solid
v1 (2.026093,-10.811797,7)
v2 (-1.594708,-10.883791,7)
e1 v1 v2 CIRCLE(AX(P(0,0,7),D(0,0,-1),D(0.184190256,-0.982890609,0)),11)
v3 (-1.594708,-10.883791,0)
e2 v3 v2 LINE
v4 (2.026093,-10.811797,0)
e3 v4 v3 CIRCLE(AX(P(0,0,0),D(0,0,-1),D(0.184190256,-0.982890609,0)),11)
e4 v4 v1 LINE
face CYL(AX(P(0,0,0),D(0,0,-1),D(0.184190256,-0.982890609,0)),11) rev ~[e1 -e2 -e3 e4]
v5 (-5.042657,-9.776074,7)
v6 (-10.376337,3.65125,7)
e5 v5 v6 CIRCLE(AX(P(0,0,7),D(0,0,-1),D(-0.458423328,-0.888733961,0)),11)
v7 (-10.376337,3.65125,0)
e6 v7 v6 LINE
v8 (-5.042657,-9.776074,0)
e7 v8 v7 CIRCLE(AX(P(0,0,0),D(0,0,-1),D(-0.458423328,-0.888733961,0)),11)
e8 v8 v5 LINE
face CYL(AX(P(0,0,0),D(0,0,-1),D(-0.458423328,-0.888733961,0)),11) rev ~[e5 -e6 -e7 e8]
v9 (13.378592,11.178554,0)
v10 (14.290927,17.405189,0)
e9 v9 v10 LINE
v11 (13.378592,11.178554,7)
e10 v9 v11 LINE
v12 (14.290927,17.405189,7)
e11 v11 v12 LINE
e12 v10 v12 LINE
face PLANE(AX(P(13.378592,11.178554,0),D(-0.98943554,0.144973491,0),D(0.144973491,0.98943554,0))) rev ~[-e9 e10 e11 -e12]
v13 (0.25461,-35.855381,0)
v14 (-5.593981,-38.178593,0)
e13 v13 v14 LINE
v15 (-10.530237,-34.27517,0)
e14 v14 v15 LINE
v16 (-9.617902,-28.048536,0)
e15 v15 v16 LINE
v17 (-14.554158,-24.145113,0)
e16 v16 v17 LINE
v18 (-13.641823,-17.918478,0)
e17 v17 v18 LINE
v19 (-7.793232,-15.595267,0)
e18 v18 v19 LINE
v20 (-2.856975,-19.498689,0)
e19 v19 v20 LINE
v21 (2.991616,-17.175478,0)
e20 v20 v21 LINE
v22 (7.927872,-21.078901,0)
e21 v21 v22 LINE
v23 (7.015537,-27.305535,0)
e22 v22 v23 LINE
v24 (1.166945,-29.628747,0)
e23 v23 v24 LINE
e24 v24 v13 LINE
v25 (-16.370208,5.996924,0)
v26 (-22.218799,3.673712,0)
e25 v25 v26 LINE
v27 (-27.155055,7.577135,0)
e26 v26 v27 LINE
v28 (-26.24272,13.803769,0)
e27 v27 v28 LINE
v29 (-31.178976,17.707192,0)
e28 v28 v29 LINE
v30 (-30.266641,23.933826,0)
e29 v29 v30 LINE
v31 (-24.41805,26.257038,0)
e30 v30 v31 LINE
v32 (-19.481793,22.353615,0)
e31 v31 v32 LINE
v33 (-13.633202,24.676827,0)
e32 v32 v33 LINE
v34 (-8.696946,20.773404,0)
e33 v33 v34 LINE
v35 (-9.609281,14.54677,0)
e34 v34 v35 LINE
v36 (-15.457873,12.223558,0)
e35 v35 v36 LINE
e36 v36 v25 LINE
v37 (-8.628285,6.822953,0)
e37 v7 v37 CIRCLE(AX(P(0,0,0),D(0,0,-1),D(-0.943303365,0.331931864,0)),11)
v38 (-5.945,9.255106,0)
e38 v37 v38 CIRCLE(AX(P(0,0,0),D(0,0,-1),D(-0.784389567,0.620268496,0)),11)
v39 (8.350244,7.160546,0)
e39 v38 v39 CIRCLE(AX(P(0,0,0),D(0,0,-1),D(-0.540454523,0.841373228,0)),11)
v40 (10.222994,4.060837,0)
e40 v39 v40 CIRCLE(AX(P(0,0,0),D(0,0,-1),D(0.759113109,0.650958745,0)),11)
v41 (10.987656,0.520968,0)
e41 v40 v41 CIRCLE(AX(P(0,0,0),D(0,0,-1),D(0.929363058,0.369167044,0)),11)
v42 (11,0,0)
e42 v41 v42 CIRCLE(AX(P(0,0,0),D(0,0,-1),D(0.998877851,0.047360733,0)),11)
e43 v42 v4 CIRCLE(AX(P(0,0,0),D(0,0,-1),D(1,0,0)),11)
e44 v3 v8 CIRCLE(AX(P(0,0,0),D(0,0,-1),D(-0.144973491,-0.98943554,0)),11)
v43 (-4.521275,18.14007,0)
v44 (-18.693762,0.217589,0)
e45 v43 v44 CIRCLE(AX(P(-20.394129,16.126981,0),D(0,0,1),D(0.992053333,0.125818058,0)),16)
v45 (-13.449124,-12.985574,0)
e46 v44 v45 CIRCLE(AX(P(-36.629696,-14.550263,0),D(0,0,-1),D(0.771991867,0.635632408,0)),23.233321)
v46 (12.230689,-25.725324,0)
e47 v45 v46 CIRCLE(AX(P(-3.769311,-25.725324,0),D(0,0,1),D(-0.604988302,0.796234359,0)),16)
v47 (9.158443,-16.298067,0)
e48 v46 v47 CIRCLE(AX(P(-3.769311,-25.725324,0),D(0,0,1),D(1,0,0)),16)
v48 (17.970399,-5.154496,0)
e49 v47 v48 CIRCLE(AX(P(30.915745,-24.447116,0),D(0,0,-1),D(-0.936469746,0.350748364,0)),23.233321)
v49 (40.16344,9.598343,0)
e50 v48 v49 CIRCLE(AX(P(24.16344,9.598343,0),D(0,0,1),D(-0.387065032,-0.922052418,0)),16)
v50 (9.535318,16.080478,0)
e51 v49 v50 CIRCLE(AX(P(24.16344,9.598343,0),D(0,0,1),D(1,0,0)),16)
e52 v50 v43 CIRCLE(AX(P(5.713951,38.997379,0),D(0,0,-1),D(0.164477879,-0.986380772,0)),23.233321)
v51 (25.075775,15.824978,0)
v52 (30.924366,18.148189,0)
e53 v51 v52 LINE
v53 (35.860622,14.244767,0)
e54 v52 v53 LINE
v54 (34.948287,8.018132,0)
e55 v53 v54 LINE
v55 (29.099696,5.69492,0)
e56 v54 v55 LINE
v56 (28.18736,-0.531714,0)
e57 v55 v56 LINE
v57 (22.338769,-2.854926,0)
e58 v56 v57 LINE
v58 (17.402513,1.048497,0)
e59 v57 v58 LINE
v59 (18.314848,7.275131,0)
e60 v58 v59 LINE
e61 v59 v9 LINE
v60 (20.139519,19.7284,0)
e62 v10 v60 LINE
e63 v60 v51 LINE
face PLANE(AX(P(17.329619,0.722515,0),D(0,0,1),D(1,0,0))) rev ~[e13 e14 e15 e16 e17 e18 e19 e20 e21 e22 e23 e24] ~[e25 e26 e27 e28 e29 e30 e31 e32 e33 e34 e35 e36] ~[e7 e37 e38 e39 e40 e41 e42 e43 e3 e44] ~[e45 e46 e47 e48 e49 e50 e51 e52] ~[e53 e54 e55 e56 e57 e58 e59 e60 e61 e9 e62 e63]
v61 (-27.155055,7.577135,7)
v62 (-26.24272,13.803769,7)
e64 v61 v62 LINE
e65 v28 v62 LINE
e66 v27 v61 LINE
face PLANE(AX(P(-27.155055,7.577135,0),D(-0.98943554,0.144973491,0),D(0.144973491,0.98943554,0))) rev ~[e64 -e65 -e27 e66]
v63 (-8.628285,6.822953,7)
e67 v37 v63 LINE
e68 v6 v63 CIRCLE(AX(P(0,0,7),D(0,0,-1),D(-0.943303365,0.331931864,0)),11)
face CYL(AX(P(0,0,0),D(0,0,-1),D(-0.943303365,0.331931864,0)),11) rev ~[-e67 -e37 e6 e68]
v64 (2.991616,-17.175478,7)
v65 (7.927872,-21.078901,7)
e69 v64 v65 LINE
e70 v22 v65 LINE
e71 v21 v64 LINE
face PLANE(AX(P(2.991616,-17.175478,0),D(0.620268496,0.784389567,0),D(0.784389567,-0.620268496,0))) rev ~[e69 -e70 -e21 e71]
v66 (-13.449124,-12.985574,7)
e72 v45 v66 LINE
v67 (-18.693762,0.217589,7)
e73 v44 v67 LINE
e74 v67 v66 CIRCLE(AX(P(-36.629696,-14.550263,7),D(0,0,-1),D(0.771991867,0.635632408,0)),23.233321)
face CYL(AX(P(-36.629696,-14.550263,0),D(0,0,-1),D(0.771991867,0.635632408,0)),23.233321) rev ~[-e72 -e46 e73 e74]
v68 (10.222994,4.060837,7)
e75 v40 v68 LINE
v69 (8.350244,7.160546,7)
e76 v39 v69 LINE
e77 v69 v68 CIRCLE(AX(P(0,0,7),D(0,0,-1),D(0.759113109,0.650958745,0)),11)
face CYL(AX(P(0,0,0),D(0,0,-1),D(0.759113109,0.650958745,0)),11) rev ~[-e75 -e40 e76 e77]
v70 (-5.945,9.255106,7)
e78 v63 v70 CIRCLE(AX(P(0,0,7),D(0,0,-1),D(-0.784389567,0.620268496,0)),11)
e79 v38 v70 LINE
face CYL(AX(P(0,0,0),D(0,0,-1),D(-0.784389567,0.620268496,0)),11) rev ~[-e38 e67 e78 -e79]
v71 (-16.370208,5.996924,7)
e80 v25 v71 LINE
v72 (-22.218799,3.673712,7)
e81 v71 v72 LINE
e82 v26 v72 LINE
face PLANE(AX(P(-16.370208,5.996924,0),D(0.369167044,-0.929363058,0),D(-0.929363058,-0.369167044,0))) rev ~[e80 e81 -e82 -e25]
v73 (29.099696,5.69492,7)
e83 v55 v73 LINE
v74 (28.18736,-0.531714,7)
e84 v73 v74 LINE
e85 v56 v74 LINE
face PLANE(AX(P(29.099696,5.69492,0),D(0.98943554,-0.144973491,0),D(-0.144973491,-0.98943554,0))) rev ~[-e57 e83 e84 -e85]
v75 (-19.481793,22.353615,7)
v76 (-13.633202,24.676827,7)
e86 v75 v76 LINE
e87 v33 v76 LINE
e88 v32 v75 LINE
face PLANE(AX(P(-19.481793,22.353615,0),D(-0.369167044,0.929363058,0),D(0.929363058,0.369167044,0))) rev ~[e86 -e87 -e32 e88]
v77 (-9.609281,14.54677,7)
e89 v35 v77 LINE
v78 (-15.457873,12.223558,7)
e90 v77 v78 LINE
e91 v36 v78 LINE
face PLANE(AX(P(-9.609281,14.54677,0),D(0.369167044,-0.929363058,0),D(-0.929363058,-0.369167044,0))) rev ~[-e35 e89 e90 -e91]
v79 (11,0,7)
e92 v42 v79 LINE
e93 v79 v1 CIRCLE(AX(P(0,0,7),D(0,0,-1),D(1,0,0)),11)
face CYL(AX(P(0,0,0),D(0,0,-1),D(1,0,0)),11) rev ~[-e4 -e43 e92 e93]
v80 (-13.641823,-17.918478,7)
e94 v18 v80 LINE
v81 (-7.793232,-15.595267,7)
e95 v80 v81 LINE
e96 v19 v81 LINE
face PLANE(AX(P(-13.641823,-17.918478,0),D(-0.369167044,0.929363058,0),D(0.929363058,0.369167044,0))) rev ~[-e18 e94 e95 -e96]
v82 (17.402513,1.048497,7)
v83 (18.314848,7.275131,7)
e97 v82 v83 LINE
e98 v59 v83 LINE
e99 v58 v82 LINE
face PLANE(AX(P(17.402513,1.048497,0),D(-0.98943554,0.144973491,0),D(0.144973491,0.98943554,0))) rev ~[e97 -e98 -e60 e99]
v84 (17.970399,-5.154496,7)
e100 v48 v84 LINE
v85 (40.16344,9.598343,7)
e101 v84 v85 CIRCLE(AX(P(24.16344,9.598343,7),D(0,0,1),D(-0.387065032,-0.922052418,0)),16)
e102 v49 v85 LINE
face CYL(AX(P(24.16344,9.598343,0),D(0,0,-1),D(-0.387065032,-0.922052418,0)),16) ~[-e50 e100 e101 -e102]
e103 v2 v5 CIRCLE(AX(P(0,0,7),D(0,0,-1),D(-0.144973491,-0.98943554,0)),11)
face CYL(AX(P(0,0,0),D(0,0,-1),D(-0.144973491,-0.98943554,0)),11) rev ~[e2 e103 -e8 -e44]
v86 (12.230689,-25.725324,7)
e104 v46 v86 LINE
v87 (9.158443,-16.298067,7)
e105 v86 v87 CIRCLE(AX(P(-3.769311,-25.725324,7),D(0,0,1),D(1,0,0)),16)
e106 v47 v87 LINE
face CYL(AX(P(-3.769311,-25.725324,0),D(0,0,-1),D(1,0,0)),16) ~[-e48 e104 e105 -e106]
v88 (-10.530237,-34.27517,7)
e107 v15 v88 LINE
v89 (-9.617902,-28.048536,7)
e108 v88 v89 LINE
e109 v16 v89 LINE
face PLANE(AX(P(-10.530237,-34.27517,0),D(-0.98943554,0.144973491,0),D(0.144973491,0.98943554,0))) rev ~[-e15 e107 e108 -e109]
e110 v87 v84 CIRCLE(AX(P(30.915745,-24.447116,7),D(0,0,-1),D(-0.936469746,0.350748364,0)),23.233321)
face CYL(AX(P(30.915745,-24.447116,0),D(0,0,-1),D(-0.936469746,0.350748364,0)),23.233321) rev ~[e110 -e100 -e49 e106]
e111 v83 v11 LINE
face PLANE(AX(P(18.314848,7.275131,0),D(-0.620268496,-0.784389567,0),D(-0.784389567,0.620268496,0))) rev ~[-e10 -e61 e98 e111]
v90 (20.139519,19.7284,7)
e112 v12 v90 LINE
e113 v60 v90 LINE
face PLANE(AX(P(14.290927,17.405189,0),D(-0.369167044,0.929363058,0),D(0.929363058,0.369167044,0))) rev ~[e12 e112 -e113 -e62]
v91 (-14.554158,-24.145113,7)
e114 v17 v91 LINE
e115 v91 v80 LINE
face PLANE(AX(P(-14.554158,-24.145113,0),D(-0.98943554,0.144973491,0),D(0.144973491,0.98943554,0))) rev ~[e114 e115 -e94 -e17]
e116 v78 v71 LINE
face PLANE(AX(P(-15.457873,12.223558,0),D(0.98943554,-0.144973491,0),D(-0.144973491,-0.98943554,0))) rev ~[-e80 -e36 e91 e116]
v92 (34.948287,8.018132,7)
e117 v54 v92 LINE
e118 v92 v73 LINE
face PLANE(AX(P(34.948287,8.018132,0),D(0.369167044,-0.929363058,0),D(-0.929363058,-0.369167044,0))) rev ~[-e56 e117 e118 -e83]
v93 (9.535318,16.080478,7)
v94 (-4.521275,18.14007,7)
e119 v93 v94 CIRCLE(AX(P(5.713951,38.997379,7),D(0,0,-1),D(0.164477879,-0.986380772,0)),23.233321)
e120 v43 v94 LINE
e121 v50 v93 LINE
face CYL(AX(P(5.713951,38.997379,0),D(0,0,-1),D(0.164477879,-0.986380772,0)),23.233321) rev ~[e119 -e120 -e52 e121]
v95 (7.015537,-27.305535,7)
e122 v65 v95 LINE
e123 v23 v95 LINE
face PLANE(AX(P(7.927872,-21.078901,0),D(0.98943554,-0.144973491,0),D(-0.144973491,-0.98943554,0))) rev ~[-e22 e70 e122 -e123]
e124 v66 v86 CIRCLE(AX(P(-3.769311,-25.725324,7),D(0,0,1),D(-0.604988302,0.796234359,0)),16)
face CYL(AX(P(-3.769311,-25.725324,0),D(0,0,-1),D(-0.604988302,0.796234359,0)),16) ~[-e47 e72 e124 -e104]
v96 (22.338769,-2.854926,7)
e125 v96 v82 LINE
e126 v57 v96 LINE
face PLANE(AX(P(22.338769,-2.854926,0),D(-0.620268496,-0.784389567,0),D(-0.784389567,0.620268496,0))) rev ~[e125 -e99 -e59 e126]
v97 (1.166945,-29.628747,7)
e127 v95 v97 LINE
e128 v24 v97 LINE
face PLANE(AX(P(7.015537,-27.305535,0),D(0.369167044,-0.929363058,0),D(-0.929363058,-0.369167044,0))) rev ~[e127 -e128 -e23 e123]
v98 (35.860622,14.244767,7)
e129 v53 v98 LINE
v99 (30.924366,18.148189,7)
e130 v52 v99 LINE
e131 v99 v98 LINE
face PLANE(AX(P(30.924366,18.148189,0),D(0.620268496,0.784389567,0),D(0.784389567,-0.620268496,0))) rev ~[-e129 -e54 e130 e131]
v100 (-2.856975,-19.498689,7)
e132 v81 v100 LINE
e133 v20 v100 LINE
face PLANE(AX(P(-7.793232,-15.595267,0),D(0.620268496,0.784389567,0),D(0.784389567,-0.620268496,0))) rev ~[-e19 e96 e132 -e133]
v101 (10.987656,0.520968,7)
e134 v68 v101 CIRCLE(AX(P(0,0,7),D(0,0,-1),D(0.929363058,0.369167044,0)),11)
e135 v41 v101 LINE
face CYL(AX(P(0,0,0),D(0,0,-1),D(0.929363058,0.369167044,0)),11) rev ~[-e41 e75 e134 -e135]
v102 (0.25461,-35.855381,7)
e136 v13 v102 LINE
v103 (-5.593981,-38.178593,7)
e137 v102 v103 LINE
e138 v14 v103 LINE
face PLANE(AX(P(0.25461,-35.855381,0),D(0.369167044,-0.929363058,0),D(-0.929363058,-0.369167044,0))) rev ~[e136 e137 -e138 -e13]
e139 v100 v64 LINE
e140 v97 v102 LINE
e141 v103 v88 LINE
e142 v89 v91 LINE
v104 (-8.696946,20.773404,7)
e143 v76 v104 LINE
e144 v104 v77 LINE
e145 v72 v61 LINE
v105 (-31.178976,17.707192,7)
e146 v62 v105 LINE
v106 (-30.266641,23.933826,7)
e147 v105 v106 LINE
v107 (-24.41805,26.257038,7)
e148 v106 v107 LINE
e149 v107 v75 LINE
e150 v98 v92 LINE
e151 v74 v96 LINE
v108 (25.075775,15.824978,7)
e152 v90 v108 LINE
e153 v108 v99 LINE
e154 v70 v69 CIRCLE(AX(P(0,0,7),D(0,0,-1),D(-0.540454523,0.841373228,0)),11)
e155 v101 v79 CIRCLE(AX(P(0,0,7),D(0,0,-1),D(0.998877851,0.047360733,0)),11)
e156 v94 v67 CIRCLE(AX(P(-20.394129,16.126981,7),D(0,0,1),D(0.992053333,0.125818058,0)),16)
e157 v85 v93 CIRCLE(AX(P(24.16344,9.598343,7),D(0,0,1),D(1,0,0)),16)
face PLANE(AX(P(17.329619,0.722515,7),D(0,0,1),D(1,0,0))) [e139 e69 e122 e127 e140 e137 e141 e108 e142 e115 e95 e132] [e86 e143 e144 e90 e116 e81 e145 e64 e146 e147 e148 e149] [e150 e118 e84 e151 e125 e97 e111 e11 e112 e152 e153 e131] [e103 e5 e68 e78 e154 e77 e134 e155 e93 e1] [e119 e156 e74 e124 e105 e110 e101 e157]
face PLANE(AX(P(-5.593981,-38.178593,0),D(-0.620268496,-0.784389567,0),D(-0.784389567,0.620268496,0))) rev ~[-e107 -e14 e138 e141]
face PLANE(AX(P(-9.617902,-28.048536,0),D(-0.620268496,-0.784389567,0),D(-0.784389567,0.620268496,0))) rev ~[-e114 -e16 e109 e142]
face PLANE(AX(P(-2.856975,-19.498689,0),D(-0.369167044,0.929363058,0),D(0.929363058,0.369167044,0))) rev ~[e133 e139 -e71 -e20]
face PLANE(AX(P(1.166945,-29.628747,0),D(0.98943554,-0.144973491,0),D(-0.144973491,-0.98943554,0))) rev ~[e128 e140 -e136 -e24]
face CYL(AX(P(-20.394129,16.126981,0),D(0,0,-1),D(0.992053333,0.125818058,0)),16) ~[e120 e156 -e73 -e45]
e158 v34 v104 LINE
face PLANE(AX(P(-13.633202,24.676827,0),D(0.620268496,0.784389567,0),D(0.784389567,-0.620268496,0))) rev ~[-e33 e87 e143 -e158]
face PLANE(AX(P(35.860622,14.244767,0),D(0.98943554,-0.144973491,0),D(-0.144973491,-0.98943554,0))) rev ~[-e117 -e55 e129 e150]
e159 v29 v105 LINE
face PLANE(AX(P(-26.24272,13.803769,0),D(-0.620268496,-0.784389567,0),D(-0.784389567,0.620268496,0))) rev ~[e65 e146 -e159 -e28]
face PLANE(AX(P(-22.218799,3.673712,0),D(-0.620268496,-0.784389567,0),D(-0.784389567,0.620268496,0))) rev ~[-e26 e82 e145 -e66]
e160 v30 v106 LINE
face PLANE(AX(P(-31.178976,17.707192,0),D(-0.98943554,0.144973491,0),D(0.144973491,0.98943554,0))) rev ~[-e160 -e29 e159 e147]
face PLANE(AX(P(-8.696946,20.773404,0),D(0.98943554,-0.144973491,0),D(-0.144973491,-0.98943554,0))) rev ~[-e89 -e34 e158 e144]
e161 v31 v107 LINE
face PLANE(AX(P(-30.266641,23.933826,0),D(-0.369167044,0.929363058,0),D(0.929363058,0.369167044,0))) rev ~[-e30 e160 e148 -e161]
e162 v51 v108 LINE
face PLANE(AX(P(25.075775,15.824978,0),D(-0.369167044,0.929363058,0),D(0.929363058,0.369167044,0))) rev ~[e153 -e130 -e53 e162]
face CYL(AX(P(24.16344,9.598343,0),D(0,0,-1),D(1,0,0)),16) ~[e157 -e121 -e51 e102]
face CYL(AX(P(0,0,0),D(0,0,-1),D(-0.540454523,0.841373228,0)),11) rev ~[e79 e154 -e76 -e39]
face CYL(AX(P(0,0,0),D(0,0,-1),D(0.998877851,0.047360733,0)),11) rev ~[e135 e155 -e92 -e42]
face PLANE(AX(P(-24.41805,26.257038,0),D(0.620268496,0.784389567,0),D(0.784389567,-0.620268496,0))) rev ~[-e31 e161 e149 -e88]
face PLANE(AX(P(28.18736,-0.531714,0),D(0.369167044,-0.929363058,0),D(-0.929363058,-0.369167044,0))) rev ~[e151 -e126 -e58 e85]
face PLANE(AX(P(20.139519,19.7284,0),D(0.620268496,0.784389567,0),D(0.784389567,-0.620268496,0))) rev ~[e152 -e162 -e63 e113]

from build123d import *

# Parameters (mm, degrees)
F1_DEPTH = 7


with BuildPart() as f1:
    # F0 (on Top) → F1 (new body)
    with BuildSketch(Plane.XY):
        with BuildLine():
            ThreePointArc((13.9404458706, 5.5375056594), (14.7327303657, 2.818981371), (15, 0))
            ThreePointArc((15, 0), (14.910105435, -1.6397426375), (14.641499211, -3.2598314149))
            ThreePointArc((14.641499211, -3.2598314149), (16.2490479671, -4.3071380253), (17.9703990001, -5.1544955417))
            ThreePointArc((17.9703990001, -5.1544955417), (20.0933334601, -3.8883563859), (22.3387689603, -2.8549259348))
            Line((22.3387689603, -2.8549259348), (17.4025129068, 1.0484968591))
            Line((17.4025129068, 1.0484968591), (18.3148481812, 7.2751313979))
            Line((18.3148481812, 7.2751313979), (13.9404458706, 5.5375056594))
        make_face()
        with BuildLine():
            ThreePointArc((8.413853575, 12.4180138516), (11.6946151785, 9.393400653), (13.9404458706, 5.5375056594))
            Line((13.9404458706, 5.5375056594), (18.3148481812, 7.2751313979))
            Line((18.3148481812, 7.2751313979), (13.3785921276, 11.1785541917))
            Line((13.3785921276, 11.1785541917), (14.290927402, 17.4051887306))
            ThreePointArc((14.290927402, 17.4051887306), (11.948407394, 16.6161645896), (9.5353183296, 16.0804778806))
            ThreePointArc((9.5353183296, 16.0804778806), (8.864593701, 14.2829260421), (8.413853575, 12.4180138516))
        make_face()
        with BuildLine():
            ThreePointArc((17.9703990001, -5.1544955417), (16.2490479671, -4.3071380253), (14.641499211, -3.2598314149))
            ThreePointArc((14.641499211, -3.2598314149), (11.76584351, -9.3040274344), (6.5473886725, -13.4956178655))
            ThreePointArc((6.5473886725, -13.4956178655), (7.9370799423, -14.8184263603), (9.1584431848, -16.2980668469))
            ThreePointArc((9.1584431848, -16.2980668469), (12.6917707898, -10.0362191218), (17.9703990001, -5.1544955417))
        make_face()
        with BuildLine():
            ThreePointArc((-4.4976527882, 14.3098259737), (2.1746023607, 14.8415330938), (8.413853575, 12.4180138516))
            ThreePointArc((8.413853575, 12.4180138516), (8.864593701, 14.2829260421), (9.5353183296, 16.0804778806))
            ThreePointArc((9.5353183296, 16.0804778806), (2.3457353225, 16.0095054839), (-4.5212754173, 18.1400698211))
            ThreePointArc((-4.5212754173, 18.1400698211), (-4.4259470549, 17.1355310008), (-4.3941287506, 16.1269808862))
            ThreePointArc((-4.3941287506, 16.1269808862), (-4.420030726, 15.216930173), (-4.4976527882, 14.3098259737))
        make_face()
        with BuildLine():
            ThreePointArc((9.1584431848, -16.2980668469), (7.9370799423, -14.8184263603), (6.5473886725, -13.4956178655))
            ThreePointArc((6.5473886725, -13.4956178655), (2.2876160042, -14.8245341585), (-2.1746023607, -14.8415330938))
            Line((-2.1746023607, -14.8415330938), (-2.8569754841, -19.4986894903))
            Line((-2.8569754841, -19.4986894903), (2.9916158438, -17.1754777453))
            Line((2.9916158438, -17.1754777453), (7.9278718973, -21.0789005391))
            ThreePointArc((7.9278718973, -21.0789005391), (8.4158169511, -18.6557066328), (9.1584431848, -16.2980668469))
        make_face()
        with BuildLine():
            ThreePointArc((22.3387689603, -2.8549259348), (20.0933334601, -3.8883563859), (17.9703990001, -5.1544955417))
            ThreePointArc((17.9703990001, -5.1544955417), (33.0209603772, -3.7262328005), (40.1634395091, 9.598343143))
            ThreePointArc((40.1634395091, 9.598343143), (27.4762978767, 25.2516165845), (9.5353183296, 16.0804778806))
            ThreePointArc((9.5353183296, 16.0804778806), (11.948407394, 16.6161645896), (14.290927402, 17.4051887306))
            Line((14.290927402, 17.4051887306), (20.1395187299, 19.7284004756))
            Line((20.1395187299, 19.7284004756), (25.0757747835, 15.8249776818))
            Line((25.0757747835, 15.8249776818), (30.9243661114, 18.1481894269))
            Line((30.9243661114, 18.1481894269), (35.8606221649, 14.244766633))
            Line((35.8606221649, 14.244766633), (34.9482868906, 8.0181320942))
            Line((34.9482868906, 8.0181320942), (29.0996955626, 5.6949203491))
            Line((29.0996955626, 5.6949203491), (28.1873602883, -0.5317141897))
            Line((28.1873602883, -0.5317141897), (22.3387689603, -2.8549259348))
        make_face()
        with BuildLine():
            ThreePointArc((-11.76584351, 9.3040274344), (-8.5082214777, 12.353548773), (-4.4976527882, 14.3098259737))
            ThreePointArc((-4.4976527882, 14.3098259737), (-4.420030726, 15.216930173), (-4.3941287506, 16.1269808862))
            ThreePointArc((-4.3941287506, 16.1269808862), (-4.4259470549, 17.1355310008), (-4.5212754173, 18.1400698211))
            ThreePointArc((-4.5212754173, 18.1400698211), (-6.6792513209, 19.3455154161), (-8.6969460947, 20.7734043763))
            Line((-8.6969460947, 20.7734043763), (-9.6092813691, 14.5467698375))
            Line((-9.6092813691, 14.5467698375), (-15.457872697, 12.2235580924))
            Line((-15.457872697, 12.2235580924), (-11.76584351, 9.3040274344))
        make_face()
        with BuildLine():
            Line((-2.8569754841, -19.4986894903), (-2.1746023607, -14.8415330938))
            ThreePointArc((-2.1746023607, -14.8415330938), (-6.4443763254, -13.5451103272), (-10.1438464229, -11.0499945588))
            ThreePointArc((-10.1438464229, -11.0499945588), (-11.8546149311, -11.9185193142), (-13.4491235829, -12.9855742794))
            ThreePointArc((-13.4491235829, -12.9855742794), (-13.4140821392, -15.4571590302), (-13.6418228656, -17.9184784416))
            Line((-13.6418228656, -17.9184784416), (-7.7932315377, -15.5952666965))
            Line((-7.7932315377, -15.5952666965), (-2.8569754841, -19.4986894903))
        make_face()
        with BuildLine():
            ThreePointArc((12.2306892415, -25.7253240292), (11.4432508781, -20.7677068139), (9.1584431848, -16.2980668469))
            ThreePointArc((9.1584431848, -16.2980668469), (8.4158169511, -18.6557066328), (7.9278718973, -21.0789005391))
            Line((7.9278718973, -21.0789005391), (7.0155366229, -27.3055350779))
            Line((7.0155366229, -27.3055350779), (1.166945295, -29.628746823))
            Line((1.166945295, -29.628746823), (0.2546100206, -35.8553813618))
            Line((0.2546100206, -35.8553813618), (-5.5939813073, -38.1785931069))
            Line((-5.5939813073, -38.1785931069), (-10.5302373608, -34.2751703131))
            Line((-10.5302373608, -34.2751703131), (-9.6179020864, -28.0485357742))
            Line((-9.6179020864, -28.0485357742), (-14.55415814, -24.1451129804))
            Line((-14.55415814, -24.1451129804), (-13.6418228656, -17.9184784416))
            ThreePointArc((-13.6418228656, -17.9184784416), (-13.4140821392, -15.4571590302), (-13.4491235829, -12.9855742794))
            ThreePointArc((-13.4491235829, -12.9855742794), (-10.8799715861, -40.0584500872), (12.2306892415, -25.7253240292))
        make_face()
        with BuildLine():
            ThreePointArc((-14.9612422475, 1.0776040139), (-13.9822311827, 5.4311335055), (-11.76584351, 9.3040274344))
            Line((-11.76584351, 9.3040274344), (-15.457872697, 12.2235580924))
            Line((-15.457872697, 12.2235580924), (-16.3702079714, 5.9969235536))
            Line((-16.3702079714, 5.9969235536), (-22.2187992993, 3.6737118085))
            ThreePointArc((-22.2187992993, 3.6737118085), (-20.3642243451, 2.0395420431), (-18.6937615143, 0.2175889663))
            ThreePointArc((-18.6937615143, 0.2175889663), (-16.8016736433, 0.5355003182), (-14.9612422475, 1.0776040139))
        make_face()
        with BuildLine():
            ThreePointArc((-8.6969460947, 20.7734043763), (-6.6792513209, 19.3455154161), (-4.5212754173, 18.1400698211))
            ThreePointArc((-4.5212754173, 18.1400698211), (-32.9443618279, 26.0512768162), (-18.6937615143, 0.2175889663))
            ThreePointArc((-18.6937615143, 0.2175889663), (-20.3642243451, 2.0395420431), (-22.2187992993, 3.6737118085))
            Line((-22.2187992993, 3.6737118085), (-27.1550553529, 7.5771346023))
            Line((-27.1550553529, 7.5771346023), (-26.2427200785, 13.8037691412))
            Line((-26.2427200785, 13.8037691412), (-31.178976132, 17.707191935))
            Line((-31.178976132, 17.707191935), (-30.2666408577, 23.9338264738))
            Line((-30.2666408577, 23.9338264738), (-24.4180495297, 26.2570382189))
            Line((-24.4180495297, 26.2570382189), (-19.4817934762, 22.3536154251))
            Line((-19.4817934762, 22.3536154251), (-13.6332021483, 24.6768271701))
            Line((-13.6332021483, 24.6768271701), (-8.6969460947, 20.7734043763))
        make_face()
        with BuildLine():
            ThreePointArc((-13.4491235829, -12.9855742794), (-11.8546149311, -11.9185193142), (-10.1438464229, -11.0499945588))
            ThreePointArc((-10.1438464229, -11.0499945588), (-13.9404458706, -5.5375056594), (-14.9612422475, 1.0776040139))
            ThreePointArc((-14.9612422475, 1.0776040139), (-16.8016736433, 0.5355003182), (-18.6937615143, 0.2175889663))
            ThreePointArc((-18.6937615143, 0.2175889663), (-15.0375061123, -5.9732863621), (-13.4491235829, -12.9855742794))
        make_face()
        with BuildLine():
            ThreePointArc((14.641499211, -3.2598314149), (14.910105435, -1.6397426375), (15, 0))
            ThreePointArc((15, 0), (14.7327303657, 2.818981371), (13.9404458706, 5.5375056594))
            Line((13.9404458706, 5.5375056594), (10.2229936385, 4.0608374836))
            ThreePointArc((10.2229936385, 4.0608374836), (10.7520038701, 2.3225875179), (10.9876563598, 0.5209680597))
            ThreePointArc((10.9876563598, 0.5209680597), (12.658211411, -1.5205473777), (14.641499211, -3.2598314149))
        make_face()
        with BuildLine():
            Line((10.2229936385, 4.0608374836), (13.9404458706, 5.5375056594))
            ThreePointArc((13.9404458706, 5.5375056594), (11.6946151785, 9.393400653), (8.413853575, 12.4180138516))
            ThreePointArc((8.413853575, 12.4180138516), (8.1646104404, 9.7919107843), (8.3502441941, 7.1605462012))
            ThreePointArc((8.3502441941, 7.1605462012), (9.4150591835, 5.6882915335), (10.2229936385, 4.0608374836))
        make_face()
        with BuildLine():
            ThreePointArc((-14.9612422475, 1.0776040139), (-13.9404458706, -5.5375056594), (-10.1438464229, -11.0499945588))
            ThreePointArc((-10.1438464229, -11.0499945588), (-7.6459383622, -10.2020589595), (-5.0426566056, -9.7760735655))
            ThreePointArc((-5.0426566056, -9.7760735655), (-10.2229936385, -4.0608374836), (-10.3763370122, 3.6512504993))
            ThreePointArc((-10.3763370122, 3.6512504993), (-12.562348711, 2.1748046613), (-14.9612422475, 1.0776040139))
        make_face()
        with BuildLine():
            Line((-8.6282852406, 6.8229534519), (-11.76584351, 9.3040274344))
            ThreePointArc((-11.76584351, 9.3040274344), (-13.9822311827, 5.4311335055), (-14.9612422475, 1.0776040139))
            ThreePointArc((-14.9612422475, 1.0776040139), (-12.562348711, 2.1748046613), (-10.3763370122, 3.6512504993))
            ThreePointArc((-10.3763370122, 3.6512504993), (-9.6337345639, 5.3095346643), (-8.6282852406, 6.8229534519))
        make_face()
        with BuildLine():
            ThreePointArc((-5.9449997541, 9.2551055058), (-5.0122730488, 11.7226063372), (-4.4976527882, 14.3098259737))
            ThreePointArc((-4.4976527882, 14.3098259737), (-8.5082214777, 12.353548773), (-11.76584351, 9.3040274344))
            Line((-11.76584351, 9.3040274344), (-8.6282852406, 6.8229534519))
            ThreePointArc((-8.6282852406, 6.8229534519), (-7.3874217281, 8.1502147341), (-5.9449997541, 9.2551055058))
        make_face()
        with BuildLine():
            ThreePointArc((-10.1438464229, -11.0499945588), (-6.4443763254, -13.5451103272), (-2.1746023607, -14.8415330938))
            Line((-2.1746023607, -14.8415330938), (-1.5947083978, -10.8837909354))
            ThreePointArc((-1.5947083978, -10.8837909354), (-3.364582142, -10.472802252), (-5.0426566056, -9.7760735655))
            ThreePointArc((-5.0426566056, -9.7760735655), (-7.6459383622, -10.2020589595), (-10.1438464229, -11.0499945588))
        make_face()
        with BuildLine():
            ThreePointArc((-2.1746023607, -14.8415330938), (2.2876160042, -14.8245341585), (6.5473886725, -13.4956178655))
            ThreePointArc((6.5473886725, -13.4956178655), (4.3977382706, -11.9667154456), (2.0260928181, -10.8117967005))
            ThreePointArc((2.0260928181, -10.8117967005), (0.2186753804, -10.9978261978), (-1.5947083978, -10.8837909354))
            Line((-1.5947083978, -10.8837909354), (-2.1746023607, -14.8415330938))
        make_face()
        with BuildLine():
            ThreePointArc((8.3502441941, 7.1605462012), (8.1646104404, 9.7919107843), (8.413853575, 12.4180138516))
            ThreePointArc((8.413853575, 12.4180138516), (2.1746023607, 14.8415330938), (-4.4976527882, 14.3098259737))
            ThreePointArc((-4.4976527882, 14.3098259737), (-5.0122730488, 11.7226063372), (-5.9449997541, 9.2551055058))
            ThreePointArc((-5.9449997541, 9.2551055058), (1.5947083978, 10.8837909354), (8.3502441941, 7.1605462012))
        make_face()
        with BuildLine():
            ThreePointArc((6.5473886725, -13.4956178655), (11.76584351, -9.3040274344), (14.641499211, -3.2598314149))
            ThreePointArc((14.641499211, -3.2598314149), (12.658211411, -1.5205473777), (10.9876563598, 0.5209680597))
            ThreePointArc((10.9876563598, 0.5209680597), (10.996913657, 0.2605571361), (11, 0))
            ThreePointArc((11, 0), (8.4642489625, -7.0254173898), (2.0260928181, -10.8117967005))
            ThreePointArc((2.0260928181, -10.8117967005), (4.3977382706, -11.9667154456), (6.5473886725, -13.4956178655))
        make_face()
    extrude(amount=F1_DEPTH)


solid = f1.part
